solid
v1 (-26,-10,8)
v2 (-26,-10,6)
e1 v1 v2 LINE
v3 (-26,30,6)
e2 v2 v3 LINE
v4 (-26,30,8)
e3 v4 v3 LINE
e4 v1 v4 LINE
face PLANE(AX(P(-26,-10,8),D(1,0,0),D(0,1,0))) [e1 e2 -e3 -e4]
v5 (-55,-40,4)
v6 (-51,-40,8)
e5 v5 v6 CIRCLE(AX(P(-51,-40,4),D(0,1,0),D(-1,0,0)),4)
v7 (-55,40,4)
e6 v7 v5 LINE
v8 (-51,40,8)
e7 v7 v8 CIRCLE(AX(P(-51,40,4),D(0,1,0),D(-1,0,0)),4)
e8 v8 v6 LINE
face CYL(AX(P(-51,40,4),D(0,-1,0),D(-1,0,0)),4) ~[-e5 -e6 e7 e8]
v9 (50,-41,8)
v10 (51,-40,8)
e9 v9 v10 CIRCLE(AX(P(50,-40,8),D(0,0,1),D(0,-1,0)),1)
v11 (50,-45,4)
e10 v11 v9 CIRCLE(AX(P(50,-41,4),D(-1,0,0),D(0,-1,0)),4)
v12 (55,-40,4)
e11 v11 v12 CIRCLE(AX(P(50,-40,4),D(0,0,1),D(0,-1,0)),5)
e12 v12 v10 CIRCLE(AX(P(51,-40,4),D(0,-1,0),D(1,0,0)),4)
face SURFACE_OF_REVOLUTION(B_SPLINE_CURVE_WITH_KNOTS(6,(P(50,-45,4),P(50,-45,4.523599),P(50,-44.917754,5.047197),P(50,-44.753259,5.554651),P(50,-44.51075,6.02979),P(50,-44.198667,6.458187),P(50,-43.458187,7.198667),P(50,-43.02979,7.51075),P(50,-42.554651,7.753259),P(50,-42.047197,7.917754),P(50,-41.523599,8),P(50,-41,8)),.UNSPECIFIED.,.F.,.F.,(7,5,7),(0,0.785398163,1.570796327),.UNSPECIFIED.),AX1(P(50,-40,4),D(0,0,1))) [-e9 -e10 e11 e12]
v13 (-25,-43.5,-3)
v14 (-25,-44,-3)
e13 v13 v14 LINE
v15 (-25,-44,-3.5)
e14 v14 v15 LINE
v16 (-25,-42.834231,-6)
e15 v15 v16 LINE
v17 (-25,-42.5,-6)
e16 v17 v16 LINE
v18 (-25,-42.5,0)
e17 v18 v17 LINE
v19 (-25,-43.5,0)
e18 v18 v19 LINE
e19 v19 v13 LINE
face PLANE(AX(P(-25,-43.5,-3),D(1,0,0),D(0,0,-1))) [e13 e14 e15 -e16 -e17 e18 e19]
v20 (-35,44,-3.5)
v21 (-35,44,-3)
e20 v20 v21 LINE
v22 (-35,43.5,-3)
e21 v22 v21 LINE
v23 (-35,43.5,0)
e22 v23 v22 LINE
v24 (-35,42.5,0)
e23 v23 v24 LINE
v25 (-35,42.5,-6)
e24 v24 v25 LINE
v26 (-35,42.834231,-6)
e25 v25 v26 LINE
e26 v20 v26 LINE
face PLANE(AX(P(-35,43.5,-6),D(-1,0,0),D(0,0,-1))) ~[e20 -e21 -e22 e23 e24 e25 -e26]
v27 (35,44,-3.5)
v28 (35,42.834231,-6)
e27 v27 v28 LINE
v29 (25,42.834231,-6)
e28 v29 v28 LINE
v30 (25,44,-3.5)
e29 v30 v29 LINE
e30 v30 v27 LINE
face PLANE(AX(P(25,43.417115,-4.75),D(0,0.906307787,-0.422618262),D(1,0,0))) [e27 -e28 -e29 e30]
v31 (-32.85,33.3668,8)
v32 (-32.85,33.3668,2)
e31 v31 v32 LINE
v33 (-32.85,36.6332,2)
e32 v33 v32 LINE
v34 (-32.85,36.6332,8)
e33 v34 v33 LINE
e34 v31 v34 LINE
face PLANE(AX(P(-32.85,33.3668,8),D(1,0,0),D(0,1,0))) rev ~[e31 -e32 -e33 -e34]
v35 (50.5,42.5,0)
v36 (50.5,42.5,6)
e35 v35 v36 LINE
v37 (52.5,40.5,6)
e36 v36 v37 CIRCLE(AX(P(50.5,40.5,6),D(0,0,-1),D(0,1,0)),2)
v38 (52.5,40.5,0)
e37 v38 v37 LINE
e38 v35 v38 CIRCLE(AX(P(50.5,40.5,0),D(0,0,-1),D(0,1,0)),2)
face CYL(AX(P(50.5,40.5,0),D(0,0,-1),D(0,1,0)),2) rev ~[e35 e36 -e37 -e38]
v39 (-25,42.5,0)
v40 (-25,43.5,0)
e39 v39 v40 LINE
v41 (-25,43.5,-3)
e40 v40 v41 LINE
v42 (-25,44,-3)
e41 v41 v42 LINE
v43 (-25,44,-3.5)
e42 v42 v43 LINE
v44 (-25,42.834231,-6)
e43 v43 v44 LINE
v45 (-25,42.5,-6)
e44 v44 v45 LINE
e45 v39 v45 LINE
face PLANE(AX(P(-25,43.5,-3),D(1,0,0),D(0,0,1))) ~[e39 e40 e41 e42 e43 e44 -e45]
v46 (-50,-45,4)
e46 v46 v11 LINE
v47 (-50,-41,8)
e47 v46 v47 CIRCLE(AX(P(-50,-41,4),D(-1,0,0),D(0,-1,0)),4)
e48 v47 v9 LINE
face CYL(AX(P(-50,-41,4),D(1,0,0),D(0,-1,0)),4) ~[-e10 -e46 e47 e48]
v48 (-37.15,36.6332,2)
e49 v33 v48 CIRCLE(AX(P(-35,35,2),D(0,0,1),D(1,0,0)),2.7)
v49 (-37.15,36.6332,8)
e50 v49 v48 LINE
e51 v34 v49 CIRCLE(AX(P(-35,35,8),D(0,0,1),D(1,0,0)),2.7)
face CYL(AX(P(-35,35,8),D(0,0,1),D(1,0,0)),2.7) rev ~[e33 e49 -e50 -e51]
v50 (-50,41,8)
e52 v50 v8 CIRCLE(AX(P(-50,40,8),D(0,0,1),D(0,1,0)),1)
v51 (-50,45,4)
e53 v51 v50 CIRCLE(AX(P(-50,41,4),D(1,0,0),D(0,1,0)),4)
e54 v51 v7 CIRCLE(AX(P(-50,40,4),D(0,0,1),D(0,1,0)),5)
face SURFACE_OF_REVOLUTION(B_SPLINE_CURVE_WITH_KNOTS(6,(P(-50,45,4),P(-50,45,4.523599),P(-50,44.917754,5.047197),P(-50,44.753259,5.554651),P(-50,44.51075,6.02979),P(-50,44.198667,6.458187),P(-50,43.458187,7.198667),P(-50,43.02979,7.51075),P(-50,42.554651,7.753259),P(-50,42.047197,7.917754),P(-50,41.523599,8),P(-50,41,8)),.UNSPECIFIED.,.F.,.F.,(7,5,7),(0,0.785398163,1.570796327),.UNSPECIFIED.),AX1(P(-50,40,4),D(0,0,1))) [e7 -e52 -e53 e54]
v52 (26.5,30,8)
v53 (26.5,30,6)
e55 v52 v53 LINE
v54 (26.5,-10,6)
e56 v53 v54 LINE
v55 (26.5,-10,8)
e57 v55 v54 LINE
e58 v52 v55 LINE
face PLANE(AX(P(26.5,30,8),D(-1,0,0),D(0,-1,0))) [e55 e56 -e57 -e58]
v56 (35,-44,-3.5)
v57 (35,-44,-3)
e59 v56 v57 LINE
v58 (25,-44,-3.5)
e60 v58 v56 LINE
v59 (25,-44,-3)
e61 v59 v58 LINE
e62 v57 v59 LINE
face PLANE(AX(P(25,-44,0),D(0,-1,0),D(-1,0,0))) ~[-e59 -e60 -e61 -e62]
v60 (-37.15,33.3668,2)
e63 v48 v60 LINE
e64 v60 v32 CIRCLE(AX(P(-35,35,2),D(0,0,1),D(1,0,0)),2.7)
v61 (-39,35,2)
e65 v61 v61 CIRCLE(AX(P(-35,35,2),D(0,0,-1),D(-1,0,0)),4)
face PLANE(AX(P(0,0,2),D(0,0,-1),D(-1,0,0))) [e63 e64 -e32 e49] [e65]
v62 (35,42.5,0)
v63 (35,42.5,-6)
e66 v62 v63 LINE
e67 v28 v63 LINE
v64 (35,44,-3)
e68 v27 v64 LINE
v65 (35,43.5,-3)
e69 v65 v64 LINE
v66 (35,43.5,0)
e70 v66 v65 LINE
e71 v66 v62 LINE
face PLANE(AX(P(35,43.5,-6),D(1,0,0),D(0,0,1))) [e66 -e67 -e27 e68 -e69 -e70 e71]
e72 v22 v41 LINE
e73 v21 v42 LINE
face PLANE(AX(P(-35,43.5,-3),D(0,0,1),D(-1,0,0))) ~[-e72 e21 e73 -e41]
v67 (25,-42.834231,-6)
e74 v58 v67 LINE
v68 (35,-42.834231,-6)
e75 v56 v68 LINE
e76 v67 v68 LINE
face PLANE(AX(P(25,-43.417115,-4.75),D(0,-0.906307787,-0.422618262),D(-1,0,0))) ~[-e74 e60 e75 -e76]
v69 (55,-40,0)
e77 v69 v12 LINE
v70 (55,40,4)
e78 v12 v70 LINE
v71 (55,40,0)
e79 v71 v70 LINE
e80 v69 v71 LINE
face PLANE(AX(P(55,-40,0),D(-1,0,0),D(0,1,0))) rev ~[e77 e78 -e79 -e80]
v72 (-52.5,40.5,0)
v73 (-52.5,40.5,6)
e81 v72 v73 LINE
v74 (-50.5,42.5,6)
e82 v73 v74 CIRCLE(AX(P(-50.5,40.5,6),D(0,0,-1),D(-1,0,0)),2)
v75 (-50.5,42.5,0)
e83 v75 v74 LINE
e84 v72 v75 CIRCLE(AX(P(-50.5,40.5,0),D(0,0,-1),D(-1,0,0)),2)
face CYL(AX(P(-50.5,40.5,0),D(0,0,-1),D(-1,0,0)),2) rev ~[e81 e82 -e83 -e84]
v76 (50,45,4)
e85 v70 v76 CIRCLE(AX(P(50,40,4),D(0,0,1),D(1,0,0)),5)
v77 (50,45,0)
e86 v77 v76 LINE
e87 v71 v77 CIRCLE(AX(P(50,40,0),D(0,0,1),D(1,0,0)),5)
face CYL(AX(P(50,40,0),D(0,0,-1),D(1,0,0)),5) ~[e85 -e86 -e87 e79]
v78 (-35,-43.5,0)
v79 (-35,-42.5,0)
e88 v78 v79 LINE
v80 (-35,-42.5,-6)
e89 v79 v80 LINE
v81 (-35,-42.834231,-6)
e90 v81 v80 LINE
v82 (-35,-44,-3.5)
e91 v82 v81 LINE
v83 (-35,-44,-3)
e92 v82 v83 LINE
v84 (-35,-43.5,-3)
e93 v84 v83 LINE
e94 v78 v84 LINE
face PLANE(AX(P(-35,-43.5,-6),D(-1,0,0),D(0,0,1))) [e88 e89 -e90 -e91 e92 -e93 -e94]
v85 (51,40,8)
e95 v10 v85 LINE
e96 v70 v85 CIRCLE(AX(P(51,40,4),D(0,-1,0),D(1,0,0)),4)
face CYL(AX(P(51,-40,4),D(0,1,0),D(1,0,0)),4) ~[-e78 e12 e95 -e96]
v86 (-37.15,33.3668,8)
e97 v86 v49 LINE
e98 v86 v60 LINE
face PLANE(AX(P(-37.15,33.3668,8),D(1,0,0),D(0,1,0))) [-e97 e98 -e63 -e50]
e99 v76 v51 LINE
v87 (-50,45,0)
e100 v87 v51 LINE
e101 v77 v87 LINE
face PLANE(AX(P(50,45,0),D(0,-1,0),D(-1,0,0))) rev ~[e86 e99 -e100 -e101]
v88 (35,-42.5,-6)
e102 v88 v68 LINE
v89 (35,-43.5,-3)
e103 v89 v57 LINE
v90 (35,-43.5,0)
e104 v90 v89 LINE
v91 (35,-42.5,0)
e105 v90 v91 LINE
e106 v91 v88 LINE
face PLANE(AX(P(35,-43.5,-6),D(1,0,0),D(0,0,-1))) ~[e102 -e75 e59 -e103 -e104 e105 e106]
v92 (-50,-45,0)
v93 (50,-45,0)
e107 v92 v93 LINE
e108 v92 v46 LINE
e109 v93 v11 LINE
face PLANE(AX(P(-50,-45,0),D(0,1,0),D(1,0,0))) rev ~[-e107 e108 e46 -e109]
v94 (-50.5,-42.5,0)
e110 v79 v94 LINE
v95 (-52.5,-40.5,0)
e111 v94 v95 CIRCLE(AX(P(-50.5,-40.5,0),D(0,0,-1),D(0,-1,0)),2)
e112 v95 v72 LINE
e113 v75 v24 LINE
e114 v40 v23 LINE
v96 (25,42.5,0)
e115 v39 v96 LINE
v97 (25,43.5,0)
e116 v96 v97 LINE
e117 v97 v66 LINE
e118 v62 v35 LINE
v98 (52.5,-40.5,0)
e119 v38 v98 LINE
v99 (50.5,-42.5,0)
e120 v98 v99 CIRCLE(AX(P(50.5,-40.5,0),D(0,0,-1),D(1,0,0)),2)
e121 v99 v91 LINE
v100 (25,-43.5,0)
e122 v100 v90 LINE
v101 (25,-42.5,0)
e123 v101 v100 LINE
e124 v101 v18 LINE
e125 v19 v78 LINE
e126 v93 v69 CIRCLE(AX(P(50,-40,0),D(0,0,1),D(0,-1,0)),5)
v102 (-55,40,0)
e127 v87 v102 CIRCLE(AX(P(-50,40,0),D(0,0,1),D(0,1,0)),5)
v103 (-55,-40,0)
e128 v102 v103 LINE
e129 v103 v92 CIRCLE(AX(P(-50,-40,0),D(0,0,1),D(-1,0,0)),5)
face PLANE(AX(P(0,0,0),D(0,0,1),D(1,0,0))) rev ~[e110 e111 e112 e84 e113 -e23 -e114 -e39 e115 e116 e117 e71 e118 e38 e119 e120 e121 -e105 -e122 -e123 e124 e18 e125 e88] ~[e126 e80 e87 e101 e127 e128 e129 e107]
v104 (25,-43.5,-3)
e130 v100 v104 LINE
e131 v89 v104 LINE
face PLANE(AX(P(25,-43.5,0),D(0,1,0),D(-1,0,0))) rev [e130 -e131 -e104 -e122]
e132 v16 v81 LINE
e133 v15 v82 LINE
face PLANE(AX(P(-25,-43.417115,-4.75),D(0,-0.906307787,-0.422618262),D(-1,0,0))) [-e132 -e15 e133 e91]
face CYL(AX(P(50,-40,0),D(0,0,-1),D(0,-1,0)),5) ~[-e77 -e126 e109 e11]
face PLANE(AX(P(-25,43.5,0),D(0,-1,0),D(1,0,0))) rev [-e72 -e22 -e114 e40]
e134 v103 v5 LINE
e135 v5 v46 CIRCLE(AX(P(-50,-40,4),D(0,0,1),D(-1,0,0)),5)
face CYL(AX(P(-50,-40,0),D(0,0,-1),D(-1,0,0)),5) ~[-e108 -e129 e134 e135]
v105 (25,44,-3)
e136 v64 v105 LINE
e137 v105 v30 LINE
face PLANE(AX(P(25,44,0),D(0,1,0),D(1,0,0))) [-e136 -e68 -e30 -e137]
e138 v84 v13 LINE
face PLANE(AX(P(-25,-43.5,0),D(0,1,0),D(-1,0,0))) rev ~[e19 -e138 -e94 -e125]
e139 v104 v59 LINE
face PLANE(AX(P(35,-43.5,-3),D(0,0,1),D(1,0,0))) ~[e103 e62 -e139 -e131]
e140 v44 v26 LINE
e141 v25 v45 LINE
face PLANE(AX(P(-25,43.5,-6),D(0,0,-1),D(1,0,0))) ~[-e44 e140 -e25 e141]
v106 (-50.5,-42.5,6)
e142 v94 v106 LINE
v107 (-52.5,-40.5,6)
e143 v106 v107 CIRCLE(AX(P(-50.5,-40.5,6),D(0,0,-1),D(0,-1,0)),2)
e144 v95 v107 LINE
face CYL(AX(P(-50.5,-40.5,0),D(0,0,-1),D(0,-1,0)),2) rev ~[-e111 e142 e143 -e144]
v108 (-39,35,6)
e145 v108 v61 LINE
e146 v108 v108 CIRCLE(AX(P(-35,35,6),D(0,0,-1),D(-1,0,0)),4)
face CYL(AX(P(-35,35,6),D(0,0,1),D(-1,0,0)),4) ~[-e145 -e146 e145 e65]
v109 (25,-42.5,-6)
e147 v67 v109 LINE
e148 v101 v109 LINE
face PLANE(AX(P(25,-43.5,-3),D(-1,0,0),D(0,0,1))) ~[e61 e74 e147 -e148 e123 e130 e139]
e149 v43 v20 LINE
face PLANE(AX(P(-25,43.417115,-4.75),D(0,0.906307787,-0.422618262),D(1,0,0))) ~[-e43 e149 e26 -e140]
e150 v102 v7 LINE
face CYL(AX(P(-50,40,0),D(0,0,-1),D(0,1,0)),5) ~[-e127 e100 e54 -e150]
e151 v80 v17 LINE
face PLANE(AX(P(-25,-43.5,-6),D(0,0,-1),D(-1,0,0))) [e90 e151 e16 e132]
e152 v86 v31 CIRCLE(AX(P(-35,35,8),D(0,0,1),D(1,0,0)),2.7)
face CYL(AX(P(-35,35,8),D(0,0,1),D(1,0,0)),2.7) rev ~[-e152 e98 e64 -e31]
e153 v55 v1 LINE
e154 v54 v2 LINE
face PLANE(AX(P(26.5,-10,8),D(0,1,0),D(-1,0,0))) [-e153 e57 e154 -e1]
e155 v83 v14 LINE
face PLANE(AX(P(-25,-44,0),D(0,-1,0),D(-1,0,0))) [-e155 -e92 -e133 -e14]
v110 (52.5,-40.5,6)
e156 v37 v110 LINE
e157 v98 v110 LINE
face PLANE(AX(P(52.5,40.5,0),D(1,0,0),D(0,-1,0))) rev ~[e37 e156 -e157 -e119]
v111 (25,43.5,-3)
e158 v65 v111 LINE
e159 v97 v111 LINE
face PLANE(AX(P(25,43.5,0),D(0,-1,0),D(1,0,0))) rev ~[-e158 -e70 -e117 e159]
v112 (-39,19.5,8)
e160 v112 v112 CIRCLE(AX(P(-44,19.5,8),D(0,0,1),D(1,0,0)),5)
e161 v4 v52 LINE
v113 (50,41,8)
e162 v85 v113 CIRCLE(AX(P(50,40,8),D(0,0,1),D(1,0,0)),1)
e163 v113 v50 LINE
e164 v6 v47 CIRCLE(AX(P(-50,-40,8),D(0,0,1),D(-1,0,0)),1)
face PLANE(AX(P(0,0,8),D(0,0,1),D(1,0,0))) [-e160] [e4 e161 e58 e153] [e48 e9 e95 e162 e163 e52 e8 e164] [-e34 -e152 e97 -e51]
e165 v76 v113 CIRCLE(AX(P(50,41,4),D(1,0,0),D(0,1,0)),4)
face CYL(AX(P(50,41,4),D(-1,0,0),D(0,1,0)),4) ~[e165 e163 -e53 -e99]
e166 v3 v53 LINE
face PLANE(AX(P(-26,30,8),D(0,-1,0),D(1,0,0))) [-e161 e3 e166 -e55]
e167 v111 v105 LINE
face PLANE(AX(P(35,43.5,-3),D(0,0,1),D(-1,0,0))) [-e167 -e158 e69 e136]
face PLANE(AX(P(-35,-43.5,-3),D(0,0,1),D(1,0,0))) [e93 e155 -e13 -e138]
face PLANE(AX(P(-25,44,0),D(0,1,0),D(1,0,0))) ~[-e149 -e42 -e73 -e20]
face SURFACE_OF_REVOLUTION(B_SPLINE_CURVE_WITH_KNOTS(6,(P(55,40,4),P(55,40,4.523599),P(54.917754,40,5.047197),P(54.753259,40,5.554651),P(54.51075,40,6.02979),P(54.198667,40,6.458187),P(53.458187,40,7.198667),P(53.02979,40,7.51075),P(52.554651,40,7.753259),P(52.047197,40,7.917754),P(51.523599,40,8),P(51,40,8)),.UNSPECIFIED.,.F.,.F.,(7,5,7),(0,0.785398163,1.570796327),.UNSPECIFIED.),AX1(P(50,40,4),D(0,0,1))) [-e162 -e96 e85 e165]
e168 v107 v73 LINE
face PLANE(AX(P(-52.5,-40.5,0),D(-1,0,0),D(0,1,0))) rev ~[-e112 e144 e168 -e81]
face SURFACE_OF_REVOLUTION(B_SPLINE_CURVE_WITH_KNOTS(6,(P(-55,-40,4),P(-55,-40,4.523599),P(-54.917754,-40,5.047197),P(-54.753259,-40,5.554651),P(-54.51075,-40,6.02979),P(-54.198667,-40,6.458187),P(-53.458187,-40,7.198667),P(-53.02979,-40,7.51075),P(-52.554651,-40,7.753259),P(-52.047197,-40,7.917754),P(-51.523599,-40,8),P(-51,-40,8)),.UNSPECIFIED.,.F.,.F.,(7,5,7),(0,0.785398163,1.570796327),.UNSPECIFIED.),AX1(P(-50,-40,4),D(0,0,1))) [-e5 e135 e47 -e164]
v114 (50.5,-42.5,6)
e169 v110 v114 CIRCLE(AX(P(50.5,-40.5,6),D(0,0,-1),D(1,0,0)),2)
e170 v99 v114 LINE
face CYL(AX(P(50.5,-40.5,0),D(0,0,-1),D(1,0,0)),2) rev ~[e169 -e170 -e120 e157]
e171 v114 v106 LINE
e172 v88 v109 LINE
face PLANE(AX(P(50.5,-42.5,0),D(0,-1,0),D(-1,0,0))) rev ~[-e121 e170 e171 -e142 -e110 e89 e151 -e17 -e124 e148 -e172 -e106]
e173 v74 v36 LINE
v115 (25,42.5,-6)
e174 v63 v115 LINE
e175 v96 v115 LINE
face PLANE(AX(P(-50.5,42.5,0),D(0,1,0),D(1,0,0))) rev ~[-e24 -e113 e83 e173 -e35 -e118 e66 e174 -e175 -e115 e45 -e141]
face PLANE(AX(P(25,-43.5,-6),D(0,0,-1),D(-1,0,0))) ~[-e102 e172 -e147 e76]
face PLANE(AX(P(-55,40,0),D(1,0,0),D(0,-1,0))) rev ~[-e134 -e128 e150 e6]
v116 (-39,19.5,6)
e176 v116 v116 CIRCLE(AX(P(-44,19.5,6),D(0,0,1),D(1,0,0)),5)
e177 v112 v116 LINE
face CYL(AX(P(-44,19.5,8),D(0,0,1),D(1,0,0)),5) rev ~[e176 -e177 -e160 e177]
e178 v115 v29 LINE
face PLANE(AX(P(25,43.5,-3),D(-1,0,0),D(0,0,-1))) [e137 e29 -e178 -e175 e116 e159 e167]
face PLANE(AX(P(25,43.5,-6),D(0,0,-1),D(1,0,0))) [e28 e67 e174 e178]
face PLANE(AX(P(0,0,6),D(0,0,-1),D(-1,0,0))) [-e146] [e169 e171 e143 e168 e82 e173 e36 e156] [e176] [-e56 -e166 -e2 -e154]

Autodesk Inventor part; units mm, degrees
ref_plane "YZ Plane" through (0, 0, 0) normal (1, 0, 0) x (0, 1, 0)
ref_plane "XZ Plane" through (0, 0, 0) normal (0, 1, 0) x (-1, 0, 0)
ref_plane "XY Plane" through (0, 0, 0) normal (0, 0, 1) x (1, 0, 0)
sketch "Esquisse2" plane through (0, 0, 0) normal (0, 0, 1) x (1, 0, 0)
  line L0 (-78.4497, 0) -> (78.4497, 0) construction
  line L1 (0, -64.4497) -> (0, 64.4497) construction
  line L2 (-50, -45) -> (50, -45)
  line L3 (55, -40) -> (55, 40)
  line L4 (50, 45) -> (-50, 45)
  line L5 (-55, 40) -> (-55, -40)
  line L6 (-55, -45) -> (55, 45) construction
  line L7 (55, -45) -> (-55, 45) construction
  arc A0 (-50, 45) -> (-55, 40) centre (-50, 40) ccw
  arc A1 (-55, -40) -> (-50, -45) centre (-50, -40) ccw
  arc A2 (50, -45) -> (55, -40) centre (50, -40) ccw
  arc A3 (55, 40) -> (50, 45) centre (50, 40) ccw
  point P0 (0, 0)
  dimension "d0" = 110
  dimension "d1" = 90
  dimension "d2" = 5
extrude "Extrusion1" add sketch "Esquisse2" along normal blind 8
fillet "Congé1" radius 4 8 edges at (53.5355, -43.5355, 8) (55, 0, 8) (53.5355, 43.5355, 8) (0, 45, 8) (-53.5355, 43.5355, 8) (-55, 0, 8) (-53.5355, -43.5355, 8) (0, -45, 8)
sketch "Esquisse3" plane through (0, 0, 8) normal (0, 0, 1) x (1, 0, 0)
  line L0 (-83, 0) -> (78, 0) construction
  line L1 (0, -64) -> (0, 69) construction
  line L2 (50, 45) -> (-50, 45) construction
  line L3 (-55, 40) -> (-55, -40) construction
  line L4 (-55, 45) -> (-26, 45) construction
  line L5 (-26, 45) -> (-26, 30) construction
  line L6 (-26, 30) -> (-55, 30) construction
  line L7 (-55, 30) -> (-55, 45) construction
  line L8 (-26, 30) -> (26.5, 30)
  line L9 (26.5, 30) -> (26.5, -10)
  line L10 (26.5, -10) -> (-26, -10)
  line L11 (-26, -10) -> (-26, 30)
  point P0 (0, 0)
  dimension "d6" = 29
  dimension "d7" = 15
  dimension "d8" = 52.5
  dimension "d9" = 40
extrude "Extrusion2" cut sketch "Esquisse3" against normal through all
sketch "Esquisse4" plane through (0, 0, 0) normal (0, 0, -1) x (-1, 0, 0)
  line L0 (0, -71.6569) -> (0, 72.6924) construction
  line L1 (86.6924, 0) -> (-85.6569, 0) construction
  line L2 (-50.5, -42.5) -> (50.5, -42.5)
  line L3 (52.5, -40.5) -> (52.5, 40.5)
  line L4 (50.5, 42.5) -> (-50.5, 42.5)
  line L5 (-52.5, 40.5) -> (-52.5, -40.5)
  line L6 (-52.5, -42.5) -> (52.5, 42.5) construction
  line L7 (52.5, -42.5) -> (-52.5, 42.5) construction
  arc A0 (-50.5, 42.5) -> (-52.5, 40.5) centre (-50.5, 40.5) ccw
  arc A1 (-52.5, -40.5) -> (-50.5, -42.5) centre (-50.5, -40.5) ccw
  arc A2 (50.5, -42.5) -> (52.5, -40.5) centre (50.5, -40.5) ccw
  arc A3 (52.5, 40.5) -> (50.5, 42.5) centre (50.5, 40.5) ccw
  line L8 (-26.5, -10) -> (-26.5, 30) construction
  line L9 (-26.5, 30) -> (26, 30) construction
  line L10 (26, 30) -> (26, -10) construction
  line L11 (26, -10) -> (-26.5, -10) construction
  arc A4 (50, -45) -> (55, -40) centre (50, -40) ccw construction
  line L12 (55, 40) -> (55, -40) construction
  arc A5 (55, 40) -> (50, 45) centre (50, 40) ccw construction
  line L13 (-50, 45) -> (50, 45) construction
  arc A6 (-50, 45) -> (-55, 40) centre (-50, 40) ccw construction
  line L14 (-55, -40) -> (-55, 40) construction
  arc A7 (-55, -40) -> (-50, -45) centre (-50, -40) ccw construction
  line L15 (50, -45) -> (-50, -45) construction
  line L16 (55, 40) -> (55, -40) construction
  line L17 (-50, 45) -> (50, 45) construction
  point P0 (0, 0)
  dimension "d12" = 105
  dimension "d13" = 85
  dimension "d14" = 2
extrude "Extrusion3" cut sketch "Esquisse4" against normal blind 6
sketch "Esquisse5" plane through (0, 0, 0) normal (0, 0, -1) x (-1, 0, 0)
  line L0 (0, -71.6569) -> (0, 72.6924) construction
  line L1 (85.6569, 0) -> (-86.6924, 0) construction
  line L2 (-52.5, -40.5) -> (-52.5, 40.5) construction
  arc A0 (-50.5, 42.5) -> (-52.5, 40.5) centre (-50.5, 40.5) ccw construction
  line L3 (-50.5, 42.5) -> (50.5, 42.5) construction
  arc A1 (52.5, 40.5) -> (50.5, 42.5) centre (50.5, 40.5) ccw construction
  line L4 (52.5, 40.5) -> (52.5, -40.5) construction
  arc A2 (50.5, -42.5) -> (52.5, -40.5) centre (50.5, -40.5) ccw construction
  line L5 (50.5, -42.5) -> (-50.5, -42.5) construction
  arc A3 (-52.5, -40.5) -> (-50.5, -42.5) centre (-50.5, -40.5) ccw construction
  arc A4 (50, -45) -> (55, -40) centre (50, -40) ccw construction
  line L6 (55, 40) -> (55, -40) construction
  arc A5 (55, 40) -> (50, 45) centre (50, 40) ccw construction
  line L7 (-50, 45) -> (50, 45) construction
  arc A6 (-50, 45) -> (-55, 40) centre (-50, 40) ccw construction
  line L8 (-55, -40) -> (-55, 40) construction
  arc A7 (-55, -40) -> (-50, -45) centre (-50, -40) ccw construction
  line L9 (50, -45) -> (-50, -45) construction
  line L10 (-55, 45) -> (-35, 45) construction
  line L11 (-35, 45) -> (-35, 42.5) construction
  line L12 (-35, 42.5) -> (-55, 42.5) construction
  line L13 (-55, 42.5) -> (-55, 45) construction
  line L14 (-55, -40) -> (-55, 40) construction
  line L15 (-50, 45) -> (50, 45) construction
  line L16 (-35, 42.5) -> (-25, 42.5)
  line L17 (-25, 42.5) -> (-25, 43.5)
  line L18 (-25, 43.5) -> (-35, 43.5)
  line L19 (-35, 43.5) -> (-35, 42.5)
  point P0 (0, 0)
  dimension "d17" = 20
  dimension "d18" = 2.5
  dimension "d19" = 10
  dimension "d20" = 1
extrude "Extrusion4" add sketch "Esquisse5" along normal blind 6
sketch "Esquisse6" plane through (25, 43.5, 0) normal (0, 1, 0) x (1, 0, 0)
  line L0 (10, 0) -> (0, 0) construction
  line L1 (10, 0) -> (10, 6) construction
  line L2 (0, 6) -> (10, 6) construction
  line L3 (0, 0) -> (0, 6) construction
  line L4 (0, 6) -> (10, 6)
  line L5 (10, 6) -> (10, 3)
  line L6 (10, 3) -> (0, 3)
  line L7 (0, 3) -> (0, 6)
  point P0 (-25, 0)
  dimension "d23" = 3
extrude "Extrusion5" add sketch "Esquisse6" along normal blind 0.5
mirror "Symétrie1" about plane through (0, 0, 0) normal (1, 0, 0) of "Extrusion4", "Extrusion5"
mirror "Symétrie2" about plane through (0, 0, 0) normal (0, 1, 0) of "Extrusion4", "Extrusion5", "Symétrie1"
chamfer "Chanfrein1" distance 2.5 angle 25 1 edges at (30, 44, -6) measured on face at (28.3333, 44, -5)
sketch "Esquisse9" plane through (0, 0, 6) normal (0, 0, -1) x (-1, 0, 0)
  line L0 (35, -42.5) -> (35, -43.5) construction
  line L1 (25, -43.5) -> (25, -42.5) construction
  line L2 (-25, -42.5) -> (-25, -43.5) construction
  line L3 (-35, -43.5) -> (-35, -42.5) construction
  line L4 (25, 42.5) -> (25, 43.5) construction
  line L5 (35, 43.5) -> (35, 42.5) construction
  line L6 (-35, 42.5) -> (-35, 43.5) construction
  line L7 (-25, 43.5) -> (-25, 42.5) construction
  arc A0 (52.5, 40.5) -> (50.5, 42.5) centre (50.5, 40.5) ccw construction
  line L8 (52.5, 40.5) -> (52.5, -40.5) construction
  arc A1 (50.5, -42.5) -> (52.5, -40.5) centre (50.5, -40.5) ccw construction
  line L9 (50.5, -42.5) -> (35, -42.5) construction
  arc A2 (-52.5, -40.5) -> (-50.5, -42.5) centre (-50.5, -40.5) ccw construction
  line L10 (-52.5, -40.5) -> (-52.5, 40.5) construction
  arc A3 (-50.5, 42.5) -> (-52.5, 40.5) centre (-50.5, 40.5) ccw construction
  line L11 (-50.5, 42.5) -> (-35, 42.5) construction
  arc A4 (50, -45) -> (55, -40) centre (50, -40) ccw construction
  line L12 (55, 40) -> (55, -40) construction
  arc A5 (55, 40) -> (50, 45) centre (50, 40) ccw construction
  line L13 (-50, 45) -> (50, 45) construction
  arc A6 (-50, 45) -> (-55, 40) centre (-50, 40) ccw construction
  line L14 (-55, -40) -> (-55, 40) construction
  arc A7 (-55, -40) -> (-50, -45) centre (-50, -40) ccw construction
  line L15 (50, -45) -> (-50, -45) construction
  line L16 (55, 40) -> (55, -40) construction
  line L17 (-50, 45) -> (50, 45) construction
  circle A8 centre (35, 35) radius 4
  line L18 (78.4497, 0) -> (-78.4497, 0) construction
  line L19 (0, -64.4497) -> (0, 64.4497) construction
  line L20 (0, 0) -> (35, 0) construction
  line L21 (35, 0) -> (35, 35) construction
  line L22 (35, 35) -> (0, 35) construction
  line L23 (0, 35) -> (0, 0) construction
  line L24 (35, -43.5) -> (25, -43.5) projected
  line L25 (-25, -43.5) -> (-35, -43.5) projected
  line L26 (25, 43.5) -> (35, 43.5) projected
  line L27 (-35, 43.5) -> (-25, 43.5) projected
  line L28 (25, -42.5) -> (-25, -42.5) projected
  line L29 (-35, -42.5) -> (-50.5, -42.5) projected
  line L30 (-25, 42.5) -> (25, 42.5) projected
  line L31 (35, 42.5) -> (50.5, 42.5) projected
  dimension "d49" = 8
  dimension "d52" = 35
  dimension "d53" = 35
extrude "Extrusion7" add sketch "Esquisse9" along normal blind 4
sketch "Esquisse7" plane through (0, 0, 8) normal (0, 0, 1) x (1, 0, 0)
  circle A0 centre (-44, 19.5) radius 5
  circle A1 centre (-35, 35) radius 2.7
  line L0 (0, 0) -> (-35, 0) construction
  line L1 (-35, 0) -> (-35, 35) construction
  line L2 (-35, 35) -> (0, 35) construction
  line L3 (0, 35) -> (0, 0) construction
  line L4 (-35, 35) -> (-37.15, 35) construction
  line L5 (-37.15, 33.3668) -> (-37.15, 36.6332)
  line L6 (-32.85, 33.3668) -> (-32.85, 36.6332)
  line L7 (0, 0) -> (-44, 0) construction
  line L8 (-44, 0) -> (-44, 19.5) construction
  line L9 (-44, 19.5) -> (0, 19.5) construction
  line L10 (0, 19.5) -> (0, 0) construction
  dimension "d34" = 10
  dimension "d39" = 5.4
  dimension "d54" = 35
  dimension "d55" = 35
  dimension "d56" = 2.15
  dimension "d57" = 44
  dimension "d58" = 19.5
extrude "Extrusion6" cut sketch "Esquisse7" against normal through all contours A0 | L6 A1 L5
sketch "Esquisse11" plane through (0, 0, 8) normal (0, 0, 1) x (1, 0, 0)
  point P0 (0, 0)
chamfer "Chanfrein3" distance 2.5 angle 25 1 edges at (-30, 44, -6) measured on face at (-28.3333, 44, -5)
chamfer "Chanfrein4" distance 2.5 angle 25 1 edges at (-30, -44, -6) measured on face at (-28.3333, -44, -5)
chamfer "Chanfrein5" distance 2.5 angle 25 1 edges at (30, -44, -6) measured on face at (28.3333, -44, -5)
properties part number "_Impression 3D"
